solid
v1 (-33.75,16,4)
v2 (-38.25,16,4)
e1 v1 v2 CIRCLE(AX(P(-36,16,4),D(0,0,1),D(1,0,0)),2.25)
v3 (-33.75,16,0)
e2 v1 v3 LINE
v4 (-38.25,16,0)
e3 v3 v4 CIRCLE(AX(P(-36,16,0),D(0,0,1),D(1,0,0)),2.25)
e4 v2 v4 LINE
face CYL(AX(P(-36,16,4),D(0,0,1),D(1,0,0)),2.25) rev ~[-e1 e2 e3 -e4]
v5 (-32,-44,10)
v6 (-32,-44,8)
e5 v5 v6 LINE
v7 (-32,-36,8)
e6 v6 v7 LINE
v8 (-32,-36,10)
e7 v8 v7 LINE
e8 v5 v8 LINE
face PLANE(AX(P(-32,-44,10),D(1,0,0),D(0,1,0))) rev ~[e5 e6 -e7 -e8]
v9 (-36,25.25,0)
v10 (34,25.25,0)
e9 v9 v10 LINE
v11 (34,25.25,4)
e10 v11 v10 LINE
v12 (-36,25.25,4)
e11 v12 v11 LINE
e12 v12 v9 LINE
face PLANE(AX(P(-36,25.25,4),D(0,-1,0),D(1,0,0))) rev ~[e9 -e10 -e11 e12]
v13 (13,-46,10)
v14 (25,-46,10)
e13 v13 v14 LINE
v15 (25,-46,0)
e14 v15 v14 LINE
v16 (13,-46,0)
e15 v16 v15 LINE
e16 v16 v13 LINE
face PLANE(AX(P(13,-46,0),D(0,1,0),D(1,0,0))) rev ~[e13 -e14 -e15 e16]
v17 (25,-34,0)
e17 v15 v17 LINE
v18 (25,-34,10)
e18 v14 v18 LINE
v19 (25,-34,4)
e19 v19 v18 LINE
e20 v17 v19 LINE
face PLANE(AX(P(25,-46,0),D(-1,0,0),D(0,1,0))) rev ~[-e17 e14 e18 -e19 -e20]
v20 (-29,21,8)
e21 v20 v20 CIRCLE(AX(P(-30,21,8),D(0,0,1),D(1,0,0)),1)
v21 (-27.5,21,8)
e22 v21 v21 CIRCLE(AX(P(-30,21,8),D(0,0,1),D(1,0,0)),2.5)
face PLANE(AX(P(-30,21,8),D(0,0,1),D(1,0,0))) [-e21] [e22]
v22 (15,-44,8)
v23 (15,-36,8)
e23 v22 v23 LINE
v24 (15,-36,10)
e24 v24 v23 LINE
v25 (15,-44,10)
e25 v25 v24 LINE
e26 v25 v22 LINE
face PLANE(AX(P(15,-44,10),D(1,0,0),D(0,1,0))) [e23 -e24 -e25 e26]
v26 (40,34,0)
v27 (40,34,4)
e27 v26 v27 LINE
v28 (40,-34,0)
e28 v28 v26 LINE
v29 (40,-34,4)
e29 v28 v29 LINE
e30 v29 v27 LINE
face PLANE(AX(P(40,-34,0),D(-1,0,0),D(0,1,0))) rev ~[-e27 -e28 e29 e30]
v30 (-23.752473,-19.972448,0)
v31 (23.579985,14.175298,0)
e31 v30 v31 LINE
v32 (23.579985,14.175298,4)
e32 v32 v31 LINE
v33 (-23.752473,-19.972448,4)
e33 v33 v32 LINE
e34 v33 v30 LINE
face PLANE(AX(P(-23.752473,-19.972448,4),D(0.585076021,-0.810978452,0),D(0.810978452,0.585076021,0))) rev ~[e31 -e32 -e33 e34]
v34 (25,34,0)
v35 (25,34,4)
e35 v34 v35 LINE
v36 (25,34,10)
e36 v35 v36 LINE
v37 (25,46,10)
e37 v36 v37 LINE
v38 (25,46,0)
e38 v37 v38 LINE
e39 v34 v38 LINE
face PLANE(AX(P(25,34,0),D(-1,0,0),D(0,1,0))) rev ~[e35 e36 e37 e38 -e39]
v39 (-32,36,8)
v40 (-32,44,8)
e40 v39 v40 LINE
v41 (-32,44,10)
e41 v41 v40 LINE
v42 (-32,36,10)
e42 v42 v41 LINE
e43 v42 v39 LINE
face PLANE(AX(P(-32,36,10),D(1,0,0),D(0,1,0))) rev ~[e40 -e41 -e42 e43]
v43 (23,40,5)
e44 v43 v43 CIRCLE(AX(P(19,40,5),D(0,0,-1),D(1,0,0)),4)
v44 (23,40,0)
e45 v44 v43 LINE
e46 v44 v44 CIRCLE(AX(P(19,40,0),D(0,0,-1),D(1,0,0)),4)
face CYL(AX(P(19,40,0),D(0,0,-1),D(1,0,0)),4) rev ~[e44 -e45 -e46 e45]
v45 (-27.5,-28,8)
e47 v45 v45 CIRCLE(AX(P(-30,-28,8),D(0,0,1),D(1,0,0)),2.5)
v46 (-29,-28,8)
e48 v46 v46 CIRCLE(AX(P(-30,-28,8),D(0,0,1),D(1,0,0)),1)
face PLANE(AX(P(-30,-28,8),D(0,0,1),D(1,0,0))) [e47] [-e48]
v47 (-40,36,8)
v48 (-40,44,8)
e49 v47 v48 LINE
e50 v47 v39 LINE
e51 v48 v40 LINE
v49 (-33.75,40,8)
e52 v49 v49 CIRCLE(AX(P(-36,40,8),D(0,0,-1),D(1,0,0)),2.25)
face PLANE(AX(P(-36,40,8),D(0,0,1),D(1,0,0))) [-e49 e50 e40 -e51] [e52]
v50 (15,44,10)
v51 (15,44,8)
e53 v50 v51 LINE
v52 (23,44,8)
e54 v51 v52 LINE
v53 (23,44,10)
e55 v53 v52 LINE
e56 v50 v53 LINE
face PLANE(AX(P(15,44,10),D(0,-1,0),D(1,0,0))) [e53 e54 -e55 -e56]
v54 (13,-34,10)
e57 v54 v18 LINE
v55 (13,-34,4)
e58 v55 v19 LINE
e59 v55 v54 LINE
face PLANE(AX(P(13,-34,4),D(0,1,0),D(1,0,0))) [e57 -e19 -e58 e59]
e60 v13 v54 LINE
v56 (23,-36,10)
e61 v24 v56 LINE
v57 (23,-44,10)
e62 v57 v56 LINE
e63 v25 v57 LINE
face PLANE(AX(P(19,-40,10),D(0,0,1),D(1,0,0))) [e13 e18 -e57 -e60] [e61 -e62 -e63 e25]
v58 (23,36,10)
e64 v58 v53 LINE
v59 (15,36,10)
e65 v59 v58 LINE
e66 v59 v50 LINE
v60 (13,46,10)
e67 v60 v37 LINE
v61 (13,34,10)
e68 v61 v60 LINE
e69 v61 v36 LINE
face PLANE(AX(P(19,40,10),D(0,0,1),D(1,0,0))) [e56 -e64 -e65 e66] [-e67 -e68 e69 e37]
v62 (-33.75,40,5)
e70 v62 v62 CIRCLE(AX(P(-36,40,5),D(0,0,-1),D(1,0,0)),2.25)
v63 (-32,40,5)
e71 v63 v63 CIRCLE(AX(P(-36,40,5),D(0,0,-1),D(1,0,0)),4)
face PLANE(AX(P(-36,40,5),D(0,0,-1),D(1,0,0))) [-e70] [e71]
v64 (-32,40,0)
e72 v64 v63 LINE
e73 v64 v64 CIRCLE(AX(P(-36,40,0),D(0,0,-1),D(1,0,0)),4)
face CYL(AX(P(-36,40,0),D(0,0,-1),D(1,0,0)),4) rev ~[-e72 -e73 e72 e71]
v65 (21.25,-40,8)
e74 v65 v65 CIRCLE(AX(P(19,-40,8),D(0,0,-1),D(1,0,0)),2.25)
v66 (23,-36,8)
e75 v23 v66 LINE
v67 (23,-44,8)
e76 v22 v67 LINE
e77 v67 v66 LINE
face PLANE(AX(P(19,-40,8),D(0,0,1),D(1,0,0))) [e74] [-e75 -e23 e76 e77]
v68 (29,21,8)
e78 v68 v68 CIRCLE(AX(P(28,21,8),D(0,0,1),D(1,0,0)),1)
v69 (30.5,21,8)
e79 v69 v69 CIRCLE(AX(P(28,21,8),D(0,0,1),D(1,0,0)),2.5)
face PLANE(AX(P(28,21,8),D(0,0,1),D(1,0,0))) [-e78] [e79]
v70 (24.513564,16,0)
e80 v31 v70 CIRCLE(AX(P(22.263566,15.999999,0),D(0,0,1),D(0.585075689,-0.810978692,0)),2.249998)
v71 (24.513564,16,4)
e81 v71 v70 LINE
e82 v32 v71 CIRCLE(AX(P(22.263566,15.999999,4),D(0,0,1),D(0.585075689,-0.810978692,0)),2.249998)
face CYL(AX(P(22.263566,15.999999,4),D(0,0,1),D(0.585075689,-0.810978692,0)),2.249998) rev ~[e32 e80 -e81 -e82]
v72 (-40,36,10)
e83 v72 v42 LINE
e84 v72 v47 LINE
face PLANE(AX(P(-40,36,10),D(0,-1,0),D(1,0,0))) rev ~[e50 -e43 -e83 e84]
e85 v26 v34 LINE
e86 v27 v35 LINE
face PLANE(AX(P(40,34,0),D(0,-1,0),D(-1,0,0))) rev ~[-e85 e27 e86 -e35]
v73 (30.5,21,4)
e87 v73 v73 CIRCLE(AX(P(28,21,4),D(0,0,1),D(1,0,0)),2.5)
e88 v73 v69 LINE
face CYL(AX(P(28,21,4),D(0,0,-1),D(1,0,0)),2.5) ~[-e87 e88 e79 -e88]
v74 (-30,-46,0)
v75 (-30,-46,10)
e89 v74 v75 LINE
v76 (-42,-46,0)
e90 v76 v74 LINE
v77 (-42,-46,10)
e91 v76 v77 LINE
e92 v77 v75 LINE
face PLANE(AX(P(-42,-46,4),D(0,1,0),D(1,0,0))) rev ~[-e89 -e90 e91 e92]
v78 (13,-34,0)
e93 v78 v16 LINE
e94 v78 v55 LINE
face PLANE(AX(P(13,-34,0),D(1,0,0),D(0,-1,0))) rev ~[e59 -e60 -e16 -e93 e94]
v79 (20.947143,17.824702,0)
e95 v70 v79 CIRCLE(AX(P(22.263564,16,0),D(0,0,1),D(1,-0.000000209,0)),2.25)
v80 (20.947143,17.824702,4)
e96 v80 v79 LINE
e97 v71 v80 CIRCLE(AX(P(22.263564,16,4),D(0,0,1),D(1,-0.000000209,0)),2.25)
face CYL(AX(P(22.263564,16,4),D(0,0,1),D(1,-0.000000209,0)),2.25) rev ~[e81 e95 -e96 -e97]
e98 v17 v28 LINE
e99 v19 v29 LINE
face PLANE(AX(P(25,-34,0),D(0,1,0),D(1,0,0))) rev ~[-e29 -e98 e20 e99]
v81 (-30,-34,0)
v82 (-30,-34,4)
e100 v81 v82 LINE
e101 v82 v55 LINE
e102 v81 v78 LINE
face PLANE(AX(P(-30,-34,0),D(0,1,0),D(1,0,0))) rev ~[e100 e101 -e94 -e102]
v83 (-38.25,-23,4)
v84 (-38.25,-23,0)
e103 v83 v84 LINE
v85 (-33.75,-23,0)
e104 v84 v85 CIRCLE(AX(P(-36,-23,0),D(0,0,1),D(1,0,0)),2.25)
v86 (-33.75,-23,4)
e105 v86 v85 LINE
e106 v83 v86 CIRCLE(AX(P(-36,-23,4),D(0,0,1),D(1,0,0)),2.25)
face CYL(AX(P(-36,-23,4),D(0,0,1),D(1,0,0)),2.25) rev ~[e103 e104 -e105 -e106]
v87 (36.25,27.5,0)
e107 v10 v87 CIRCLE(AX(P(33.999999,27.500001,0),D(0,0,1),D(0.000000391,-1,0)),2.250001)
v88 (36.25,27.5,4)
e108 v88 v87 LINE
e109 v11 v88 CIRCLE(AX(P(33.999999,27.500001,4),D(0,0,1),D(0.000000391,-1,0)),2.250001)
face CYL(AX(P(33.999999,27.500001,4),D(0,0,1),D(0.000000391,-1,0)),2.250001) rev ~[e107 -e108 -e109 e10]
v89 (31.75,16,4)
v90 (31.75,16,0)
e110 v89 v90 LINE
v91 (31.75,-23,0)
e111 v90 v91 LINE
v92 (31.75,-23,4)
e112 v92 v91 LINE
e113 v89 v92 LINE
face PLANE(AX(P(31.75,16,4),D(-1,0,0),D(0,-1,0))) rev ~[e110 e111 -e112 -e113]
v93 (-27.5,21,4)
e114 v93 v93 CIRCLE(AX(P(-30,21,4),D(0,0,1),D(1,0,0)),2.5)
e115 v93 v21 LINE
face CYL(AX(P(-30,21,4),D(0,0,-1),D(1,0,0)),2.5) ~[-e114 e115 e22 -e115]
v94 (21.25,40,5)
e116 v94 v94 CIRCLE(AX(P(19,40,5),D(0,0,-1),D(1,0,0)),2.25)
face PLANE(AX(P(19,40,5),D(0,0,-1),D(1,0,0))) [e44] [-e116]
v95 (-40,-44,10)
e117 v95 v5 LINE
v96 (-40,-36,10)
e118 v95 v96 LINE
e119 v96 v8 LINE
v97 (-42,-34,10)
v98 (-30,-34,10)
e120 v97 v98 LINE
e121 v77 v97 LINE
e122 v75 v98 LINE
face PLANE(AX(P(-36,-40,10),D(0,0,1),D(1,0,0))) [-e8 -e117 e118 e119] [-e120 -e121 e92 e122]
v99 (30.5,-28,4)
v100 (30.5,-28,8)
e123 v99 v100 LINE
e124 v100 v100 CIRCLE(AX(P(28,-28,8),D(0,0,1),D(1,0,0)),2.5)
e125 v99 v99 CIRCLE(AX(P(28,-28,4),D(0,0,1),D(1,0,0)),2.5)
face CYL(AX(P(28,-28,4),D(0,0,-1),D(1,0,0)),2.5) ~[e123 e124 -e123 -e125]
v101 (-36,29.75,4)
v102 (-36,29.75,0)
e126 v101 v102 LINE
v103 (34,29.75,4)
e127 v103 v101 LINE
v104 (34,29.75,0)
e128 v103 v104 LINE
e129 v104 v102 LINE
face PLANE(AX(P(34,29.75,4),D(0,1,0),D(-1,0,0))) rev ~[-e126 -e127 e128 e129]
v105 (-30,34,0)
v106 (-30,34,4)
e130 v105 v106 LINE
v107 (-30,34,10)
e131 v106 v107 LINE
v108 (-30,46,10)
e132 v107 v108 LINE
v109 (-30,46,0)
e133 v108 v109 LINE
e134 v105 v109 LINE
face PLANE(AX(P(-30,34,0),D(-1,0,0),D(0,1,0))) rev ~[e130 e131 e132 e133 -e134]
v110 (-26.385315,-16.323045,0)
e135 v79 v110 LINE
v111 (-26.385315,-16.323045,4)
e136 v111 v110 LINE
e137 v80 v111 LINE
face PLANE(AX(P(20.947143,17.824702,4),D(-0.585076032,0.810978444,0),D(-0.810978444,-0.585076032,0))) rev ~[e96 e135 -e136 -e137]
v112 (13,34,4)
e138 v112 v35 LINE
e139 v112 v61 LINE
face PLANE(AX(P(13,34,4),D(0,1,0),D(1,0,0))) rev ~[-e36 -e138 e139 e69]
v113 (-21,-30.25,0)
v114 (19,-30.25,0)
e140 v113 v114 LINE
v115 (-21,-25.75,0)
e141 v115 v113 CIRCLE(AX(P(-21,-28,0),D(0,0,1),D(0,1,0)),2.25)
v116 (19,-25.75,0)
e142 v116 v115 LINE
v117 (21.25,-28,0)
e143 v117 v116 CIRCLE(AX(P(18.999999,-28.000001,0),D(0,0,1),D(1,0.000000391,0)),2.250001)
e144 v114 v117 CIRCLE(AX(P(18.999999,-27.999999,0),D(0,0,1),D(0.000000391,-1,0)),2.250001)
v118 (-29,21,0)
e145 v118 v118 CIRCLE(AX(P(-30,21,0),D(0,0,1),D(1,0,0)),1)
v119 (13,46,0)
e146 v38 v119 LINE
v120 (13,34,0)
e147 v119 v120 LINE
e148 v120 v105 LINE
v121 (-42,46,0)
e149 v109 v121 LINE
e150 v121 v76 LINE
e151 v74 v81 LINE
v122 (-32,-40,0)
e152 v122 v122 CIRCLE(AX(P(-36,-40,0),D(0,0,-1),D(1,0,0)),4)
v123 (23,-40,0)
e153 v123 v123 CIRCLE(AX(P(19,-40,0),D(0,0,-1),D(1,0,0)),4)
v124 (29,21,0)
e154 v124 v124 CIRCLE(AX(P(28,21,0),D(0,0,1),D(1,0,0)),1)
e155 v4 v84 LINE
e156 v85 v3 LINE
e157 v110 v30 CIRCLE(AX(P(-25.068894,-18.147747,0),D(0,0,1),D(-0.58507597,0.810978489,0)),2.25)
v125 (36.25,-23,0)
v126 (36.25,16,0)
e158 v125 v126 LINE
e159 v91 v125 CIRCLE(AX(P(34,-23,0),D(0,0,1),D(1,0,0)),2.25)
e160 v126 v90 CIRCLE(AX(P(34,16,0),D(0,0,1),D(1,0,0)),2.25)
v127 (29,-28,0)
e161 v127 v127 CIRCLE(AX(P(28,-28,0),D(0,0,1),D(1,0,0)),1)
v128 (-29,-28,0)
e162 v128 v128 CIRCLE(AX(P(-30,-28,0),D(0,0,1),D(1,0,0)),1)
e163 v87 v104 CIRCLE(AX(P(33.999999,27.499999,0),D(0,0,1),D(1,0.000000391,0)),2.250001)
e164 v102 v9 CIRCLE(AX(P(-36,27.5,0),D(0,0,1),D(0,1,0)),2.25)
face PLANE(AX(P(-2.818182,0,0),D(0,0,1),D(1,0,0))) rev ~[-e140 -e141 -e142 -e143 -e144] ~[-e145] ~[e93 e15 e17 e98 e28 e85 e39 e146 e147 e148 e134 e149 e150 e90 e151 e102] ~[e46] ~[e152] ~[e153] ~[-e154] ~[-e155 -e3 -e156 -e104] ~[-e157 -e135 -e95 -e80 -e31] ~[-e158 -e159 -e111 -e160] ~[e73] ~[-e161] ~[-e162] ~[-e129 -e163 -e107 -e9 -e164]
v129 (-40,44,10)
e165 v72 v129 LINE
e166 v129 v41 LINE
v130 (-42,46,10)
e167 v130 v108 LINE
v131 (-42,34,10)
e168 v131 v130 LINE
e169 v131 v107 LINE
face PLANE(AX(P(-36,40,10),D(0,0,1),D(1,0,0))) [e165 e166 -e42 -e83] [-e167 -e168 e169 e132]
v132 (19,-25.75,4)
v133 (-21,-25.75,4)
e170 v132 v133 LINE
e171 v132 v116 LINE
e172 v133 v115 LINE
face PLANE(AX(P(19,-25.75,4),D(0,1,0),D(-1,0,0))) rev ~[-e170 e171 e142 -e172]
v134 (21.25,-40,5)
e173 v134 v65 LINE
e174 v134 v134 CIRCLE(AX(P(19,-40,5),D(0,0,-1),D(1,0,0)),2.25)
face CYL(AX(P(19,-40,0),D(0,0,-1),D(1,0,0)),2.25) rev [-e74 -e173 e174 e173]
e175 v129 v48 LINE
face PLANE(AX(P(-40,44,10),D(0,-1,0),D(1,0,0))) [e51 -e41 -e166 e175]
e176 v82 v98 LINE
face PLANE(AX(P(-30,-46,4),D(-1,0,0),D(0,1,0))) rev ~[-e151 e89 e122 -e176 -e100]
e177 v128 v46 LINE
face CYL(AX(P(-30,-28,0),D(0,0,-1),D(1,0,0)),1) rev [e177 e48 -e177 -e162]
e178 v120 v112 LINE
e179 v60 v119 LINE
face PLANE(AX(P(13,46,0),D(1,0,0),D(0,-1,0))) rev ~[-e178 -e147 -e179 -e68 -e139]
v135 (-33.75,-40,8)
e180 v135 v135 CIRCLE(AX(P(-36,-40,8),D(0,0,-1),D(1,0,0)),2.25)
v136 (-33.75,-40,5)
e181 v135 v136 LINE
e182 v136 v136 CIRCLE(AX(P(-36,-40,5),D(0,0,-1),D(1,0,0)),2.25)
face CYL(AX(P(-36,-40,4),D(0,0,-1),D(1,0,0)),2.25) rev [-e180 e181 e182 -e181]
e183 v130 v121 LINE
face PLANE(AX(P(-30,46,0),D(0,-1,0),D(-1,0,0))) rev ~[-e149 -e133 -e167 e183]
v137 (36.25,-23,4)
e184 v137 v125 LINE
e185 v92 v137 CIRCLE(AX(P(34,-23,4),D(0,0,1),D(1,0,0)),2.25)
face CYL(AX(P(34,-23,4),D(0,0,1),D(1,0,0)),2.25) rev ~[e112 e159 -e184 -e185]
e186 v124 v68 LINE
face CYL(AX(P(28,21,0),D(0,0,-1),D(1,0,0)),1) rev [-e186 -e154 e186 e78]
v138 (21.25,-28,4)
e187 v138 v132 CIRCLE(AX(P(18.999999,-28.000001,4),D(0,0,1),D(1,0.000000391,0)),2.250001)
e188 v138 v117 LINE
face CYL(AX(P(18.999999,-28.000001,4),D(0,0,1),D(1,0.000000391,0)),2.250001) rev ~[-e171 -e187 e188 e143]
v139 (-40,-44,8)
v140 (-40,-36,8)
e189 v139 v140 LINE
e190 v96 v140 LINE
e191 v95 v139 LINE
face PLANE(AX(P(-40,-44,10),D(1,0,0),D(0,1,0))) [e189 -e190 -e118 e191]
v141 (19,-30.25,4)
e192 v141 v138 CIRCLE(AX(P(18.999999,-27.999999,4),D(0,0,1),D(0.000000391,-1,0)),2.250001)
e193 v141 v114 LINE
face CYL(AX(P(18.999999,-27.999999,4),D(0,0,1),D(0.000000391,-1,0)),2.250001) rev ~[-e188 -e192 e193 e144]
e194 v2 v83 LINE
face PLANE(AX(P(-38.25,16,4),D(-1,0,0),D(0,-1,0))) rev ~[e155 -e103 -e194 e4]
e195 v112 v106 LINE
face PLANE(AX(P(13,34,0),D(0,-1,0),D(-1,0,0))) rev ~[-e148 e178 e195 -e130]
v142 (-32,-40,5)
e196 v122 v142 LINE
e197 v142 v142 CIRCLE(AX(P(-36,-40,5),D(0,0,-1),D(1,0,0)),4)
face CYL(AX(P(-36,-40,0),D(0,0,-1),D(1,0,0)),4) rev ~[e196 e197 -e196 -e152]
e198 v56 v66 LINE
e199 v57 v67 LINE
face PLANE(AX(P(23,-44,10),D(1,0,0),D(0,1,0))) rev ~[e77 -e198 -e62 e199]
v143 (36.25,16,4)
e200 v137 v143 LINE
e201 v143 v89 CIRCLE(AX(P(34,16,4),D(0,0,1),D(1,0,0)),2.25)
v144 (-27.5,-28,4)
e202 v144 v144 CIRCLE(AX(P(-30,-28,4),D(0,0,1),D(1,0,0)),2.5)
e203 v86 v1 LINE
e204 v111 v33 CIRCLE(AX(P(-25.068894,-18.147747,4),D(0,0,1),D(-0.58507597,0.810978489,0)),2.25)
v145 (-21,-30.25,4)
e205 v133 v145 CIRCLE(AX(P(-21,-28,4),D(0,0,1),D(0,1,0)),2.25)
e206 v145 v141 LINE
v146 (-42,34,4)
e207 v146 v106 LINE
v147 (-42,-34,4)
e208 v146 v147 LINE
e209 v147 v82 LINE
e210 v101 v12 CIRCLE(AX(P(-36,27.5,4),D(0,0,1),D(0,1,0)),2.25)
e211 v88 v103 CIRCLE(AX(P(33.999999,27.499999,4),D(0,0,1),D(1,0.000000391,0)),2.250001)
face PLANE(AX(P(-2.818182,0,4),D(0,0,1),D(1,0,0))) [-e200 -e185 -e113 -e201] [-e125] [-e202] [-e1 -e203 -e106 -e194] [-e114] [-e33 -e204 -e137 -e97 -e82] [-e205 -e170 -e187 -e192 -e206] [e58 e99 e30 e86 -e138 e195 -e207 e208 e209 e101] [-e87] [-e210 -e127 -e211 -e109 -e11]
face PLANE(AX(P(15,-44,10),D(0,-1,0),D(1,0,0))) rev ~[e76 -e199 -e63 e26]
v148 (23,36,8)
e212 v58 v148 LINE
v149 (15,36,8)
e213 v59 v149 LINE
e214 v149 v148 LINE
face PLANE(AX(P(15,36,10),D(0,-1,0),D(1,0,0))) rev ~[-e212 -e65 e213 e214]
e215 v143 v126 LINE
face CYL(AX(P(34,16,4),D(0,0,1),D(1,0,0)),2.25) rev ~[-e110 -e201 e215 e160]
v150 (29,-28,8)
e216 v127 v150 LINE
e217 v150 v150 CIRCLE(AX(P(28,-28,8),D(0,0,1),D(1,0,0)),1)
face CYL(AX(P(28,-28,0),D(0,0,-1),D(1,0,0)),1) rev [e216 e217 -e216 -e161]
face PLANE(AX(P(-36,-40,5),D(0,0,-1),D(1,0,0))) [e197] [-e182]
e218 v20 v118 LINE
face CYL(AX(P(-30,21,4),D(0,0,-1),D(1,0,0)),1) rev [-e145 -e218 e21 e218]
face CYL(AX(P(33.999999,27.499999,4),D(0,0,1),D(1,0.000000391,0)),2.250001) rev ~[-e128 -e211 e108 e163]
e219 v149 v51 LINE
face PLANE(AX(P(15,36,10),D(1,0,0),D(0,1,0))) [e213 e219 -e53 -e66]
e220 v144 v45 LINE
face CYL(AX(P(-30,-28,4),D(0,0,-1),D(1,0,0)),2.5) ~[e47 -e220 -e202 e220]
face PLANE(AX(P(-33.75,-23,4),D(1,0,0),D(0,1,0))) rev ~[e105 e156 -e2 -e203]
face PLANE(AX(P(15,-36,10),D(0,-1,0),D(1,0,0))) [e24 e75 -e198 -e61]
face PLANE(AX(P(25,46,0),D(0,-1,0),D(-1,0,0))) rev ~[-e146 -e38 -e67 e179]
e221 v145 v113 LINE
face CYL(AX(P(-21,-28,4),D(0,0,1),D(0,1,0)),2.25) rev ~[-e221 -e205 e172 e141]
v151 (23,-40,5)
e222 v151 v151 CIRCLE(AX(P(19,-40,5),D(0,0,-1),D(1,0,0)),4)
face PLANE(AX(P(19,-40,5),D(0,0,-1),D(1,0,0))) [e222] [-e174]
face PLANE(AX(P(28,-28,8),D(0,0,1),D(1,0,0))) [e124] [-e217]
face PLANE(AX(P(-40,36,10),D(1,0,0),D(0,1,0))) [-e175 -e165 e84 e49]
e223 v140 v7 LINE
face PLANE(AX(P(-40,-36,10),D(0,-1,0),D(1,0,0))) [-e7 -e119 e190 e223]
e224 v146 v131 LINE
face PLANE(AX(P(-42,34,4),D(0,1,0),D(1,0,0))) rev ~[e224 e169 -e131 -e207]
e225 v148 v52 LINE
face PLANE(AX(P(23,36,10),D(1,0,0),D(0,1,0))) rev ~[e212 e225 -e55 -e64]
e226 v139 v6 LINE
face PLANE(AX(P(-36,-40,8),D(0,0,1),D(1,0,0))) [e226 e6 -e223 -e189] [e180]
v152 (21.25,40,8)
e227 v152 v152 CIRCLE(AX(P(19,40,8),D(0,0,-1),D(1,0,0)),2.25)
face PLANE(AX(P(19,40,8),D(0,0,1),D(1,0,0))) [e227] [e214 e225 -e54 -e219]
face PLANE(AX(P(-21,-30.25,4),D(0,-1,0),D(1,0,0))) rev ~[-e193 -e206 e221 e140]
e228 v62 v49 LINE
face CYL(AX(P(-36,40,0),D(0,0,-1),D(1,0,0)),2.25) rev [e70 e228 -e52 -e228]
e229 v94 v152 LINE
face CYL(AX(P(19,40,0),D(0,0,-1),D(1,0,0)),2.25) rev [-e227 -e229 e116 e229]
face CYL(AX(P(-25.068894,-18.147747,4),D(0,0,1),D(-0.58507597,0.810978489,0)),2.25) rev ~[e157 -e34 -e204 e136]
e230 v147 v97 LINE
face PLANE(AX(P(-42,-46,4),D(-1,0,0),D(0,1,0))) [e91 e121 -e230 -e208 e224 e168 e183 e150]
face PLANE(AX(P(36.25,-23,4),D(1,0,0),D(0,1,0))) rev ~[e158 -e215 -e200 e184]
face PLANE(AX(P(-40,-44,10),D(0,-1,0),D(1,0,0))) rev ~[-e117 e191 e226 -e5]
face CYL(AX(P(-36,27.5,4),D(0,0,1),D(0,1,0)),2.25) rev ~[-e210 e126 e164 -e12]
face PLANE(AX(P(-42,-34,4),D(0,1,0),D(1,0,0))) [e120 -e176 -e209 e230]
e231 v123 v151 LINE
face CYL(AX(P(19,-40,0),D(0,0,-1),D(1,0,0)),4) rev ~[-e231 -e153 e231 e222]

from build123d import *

# Parameters (mm, degrees)
F0_R      = 2.25
F0_R_2    = 1
F1_DEPTH  = 4
F2_W      = 12
F2_H      = 12
F2_R      = 2.25
F3_DEPTH  = 6
F4_W      = 8
F4_H      = 8
F5_DEPTH  = 2
F6_R      = 4
F6_R_2    = 2.25
F7_DEPTH  = 5
F8_R      = 2.5
F8_R_2    = 1
F9_DEPTH  = 4
F11_DEPTH = 4.001


with BuildPart() as f1:
    # F0 (on Top) → F1 (new body)
    with BuildSketch(Plane.XY):
        Polygon((-30, 46), (-42, 46), (-42, -46), (-30, -46), (-30, -34), (13, -34), (13, -46), (25, -46), (25, -34), (40, -34), (40, 34), (25, 34), (25, 46), (13, 46), (13, 34), (-30, 34), align=None)
        with Locations((-36, -40)):
            Circle(F0_R, mode=Mode.SUBTRACT)
        with Locations((-30, -28)):
            Circle(F0_R_2, mode=Mode.SUBTRACT)
        with Locations((19, -40)):
            Circle(F0_R, mode=Mode.SUBTRACT)
        with Locations((28, -28)):
            Circle(F0_R_2, mode=Mode.SUBTRACT)
        with Locations((-30, 21)):
            Circle(F0_R_2, mode=Mode.SUBTRACT)
        with Locations((-36, 40)):
            Circle(F0_R, mode=Mode.SUBTRACT)
        with Locations((28, 21)):
            Circle(F0_R_2, mode=Mode.SUBTRACT)
        with Locations((19, 40)):
            Circle(F0_R, mode=Mode.SUBTRACT)
    extrude(amount=F1_DEPTH)

    # F2 (on face) → F3 (join)
    with BuildSketch(Plane.XY.offset(4)):
        with Locations((-36, -40)):
            Rectangle(F2_W, F2_H)
        with Locations((-36, -40)):
            Circle(F2_R, mode=Mode.SUBTRACT)
        with Locations((-36, 40)):
            Rectangle(F2_W, F2_H)
        with Locations((-36, 40)):
            Circle(F2_R, mode=Mode.SUBTRACT)
        with Locations((19, 40)):
            Rectangle(F2_W, F2_H)
        with Locations((19, 40)):
            Circle(F2_R, mode=Mode.SUBTRACT)
        with Locations((19, -40)):
            Rectangle(F2_W, F2_H)
        with Locations((19, -40)):
            Circle(F2_R, mode=Mode.SUBTRACT)
    extrude(amount=F3_DEPTH)

    # F4 (on face) → F5 (cut)
    with BuildSketch(Plane.XY.offset(10)):
        with Locations((-36, 40)):
            Rectangle(F4_W, F4_H)
        with Locations((19, 40)):
            Rectangle(F4_W, F4_H)
        with Locations((19, -40)):
            Rectangle(F4_W, F4_H)
        with Locations((-36, -40)):
            Rectangle(F4_W, F4_H)
    extrude(amount=-F5_DEPTH, mode=Mode.SUBTRACT)

    # F6 (on face) → F7 (cut)
    with BuildSketch(Plane(origin=(0, 0, 0), x_dir=(1, 0, 0), z_dir=(0, 0, -1))):
        with Locations((-36, 40)):
            Circle(F6_R)
        with Locations((-36, 40)):
            Circle(F6_R_2, mode=Mode.SUBTRACT)
        with Locations((19, 40)):
            Circle(F6_R)
        with Locations((19, 40)):
            Circle(F6_R_2, mode=Mode.SUBTRACT)
        with Locations((19, -40)):
            Circle(F6_R)
        with Locations((19, -40)):
            Circle(F6_R_2, mode=Mode.SUBTRACT)
        with Locations((-36, -40)):
            Circle(F6_R)
        with Locations((-36, -40)):
            Circle(F6_R_2, mode=Mode.SUBTRACT)
    extrude(amount=-F7_DEPTH, mode=Mode.SUBTRACT)

    # F8 (on face) → F9 (join)
    with BuildSketch(Plane.XY.offset(4)):
        with Locations((-30, 21)):
            Circle(F8_R)
        with Locations((-30, 21)):
            Circle(F8_R_2, mode=Mode.SUBTRACT)
        with Locations((-30, -28)):
            Circle(F8_R)
        with Locations((-30, -28)):
            Circle(F8_R_2, mode=Mode.SUBTRACT)
        with Locations((28, -28)):
            Circle(F8_R)
        with Locations((28, -28)):
            Circle(F8_R_2, mode=Mode.SUBTRACT)
        with Locations((28, 21)):
            Circle(F8_R)
        with Locations((28, 21)):
            Circle(F8_R_2, mode=Mode.SUBTRACT)
    extrude(amount=F9_DEPTH)

    # F10 (on face) → F11 (cut, through all)
    with BuildSketch(Plane.XY.offset(4)):
        with BuildLine():
            ThreePointArc((-36, 29.75), (-34.40901, 29.09099), (-33.75, 27.5))
            ThreePointArc((-33.75, 27.5), (-34.40901, 25.90901), (-36, 25.25))
            Line((-36, 25.25), (34, 25.25))
            ThreePointArc((34, 25.25), (31.75, 27.5), (34, 29.75))
            Line((34, 29.75), (-36, 29.75))
        make_face()
        with BuildLine():
            ThreePointArc((-36, 25.25), (-34.40901, 25.90901), (-33.75, 27.5))
            ThreePointArc((-33.75, 27.5), (-34.40901, 29.09099), (-36, 29.75))
            ThreePointArc((-36, 29.75), (-38.25, 27.5), (-36, 25.25))
        make_face()
        with BuildLine():
            ThreePointArc((-38.25, 16), (-36, 13.75), (-33.75, 16))
            ThreePointArc((-33.75, 16), (-36, 18.25), (-38.25, 16))
        make_face()
        with BuildLine():
            Line((-33.75, -23), (-33.75, 16))
            ThreePointArc((-33.75, 16), (-36, 13.75), (-38.25, 16))
            Line((-38.25, 16), (-38.25, -23))
            ThreePointArc((-38.25, -23), (-36, -20.75), (-33.75, -23))
        make_face()
        with BuildLine():
            ThreePointArc((-38.25, -23), (-36, -25.25), (-33.75, -23))
            ThreePointArc((-33.75, -23), (-36, -20.75), (-38.25, -23))
        make_face()
        with BuildLine():
            ThreePointArc((-23.752473, -19.972448), (-23.06584, -19.172576), (-22.818894, -18.147746))
            ThreePointArc((-22.818894, -18.147746), (-24.044064, -16.144693), (-26.385315, -16.323045))
            ThreePointArc((-26.385315, -16.323045), (-26.893596, -19.464167), (-23.752473, -19.972448))
        make_face()
        with BuildLine():
            ThreePointArc((-26.385315, -16.323045), (-24.044064, -16.144693), (-22.818894, -18.147746))
            ThreePointArc((-22.818894, -18.147746), (-23.06584, -19.172576), (-23.752473, -19.972448))
            Line((-23.752473, -19.972448), (23.579985, 14.175298))
            ThreePointArc((23.579985, 14.175298), (20.438863, 14.683579), (20.947143, 17.824702))
            Line((20.947143, 17.824702), (-26.385315, -16.323045))
        make_face()
        with BuildLine():
            ThreePointArc((24.513564, 16), (23.288394, 18.003054), (20.947143, 17.824702))
            ThreePointArc((20.947143, 17.824702), (20.438863, 14.683579), (23.579985, 14.175298))
            ThreePointArc((23.579985, 14.175298), (24.266618, 14.97517), (24.513564, 16))
        make_face()
        with BuildLine():
            ThreePointArc((36.25, 27.5), (35.59099, 29.09099), (34, 29.75))
            ThreePointArc((34, 29.75), (31.75, 27.5), (34, 25.25))
            ThreePointArc((34, 25.25), (35.59099, 25.90901), (36.25, 27.5))
        make_face()
        with BuildLine():
            Line((36.25, -23), (36.25, 16))
            ThreePointArc((36.25, 16), (34, 13.75), (31.75, 16))
            Line((31.75, 16), (31.75, -23))
            ThreePointArc((31.75, -23), (34, -20.75), (36.25, -23))
        make_face()
        with BuildLine():
            ThreePointArc((31.75, 16), (34, 13.75), (36.25, 16))
            ThreePointArc((36.25, 16), (34, 18.25), (31.75, 16))
        make_face()
        with BuildLine():
            ThreePointArc((31.75, -23), (34, -25.25), (36.25, -23))
            ThreePointArc((36.25, -23), (34, -20.75), (31.75, -23))
        make_face()
        with BuildLine():
            ThreePointArc((21.25, -28), (20.59099, -26.40901), (19, -25.75))
            ThreePointArc((19, -25.75), (16.75, -28), (19, -30.25))
            ThreePointArc((19, -30.25), (20.59099, -29.59099), (21.25, -28))
        make_face()
        with BuildLine():
            ThreePointArc((-21, -25.75), (-19.40901, -26.40901), (-18.75, -28))
            ThreePointArc((-18.75, -28), (-19.40901, -29.59099), (-21, -30.25))
            Line((-21, -30.25), (19, -30.25))
            ThreePointArc((19, -30.25), (16.75, -28), (19, -25.75))
            Line((19, -25.75), (-21, -25.75))
        make_face()
        with BuildLine():
            ThreePointArc((-21, -30.25), (-19.40901, -29.59099), (-18.75, -28))
            ThreePointArc((-18.75, -28), (-19.40901, -26.40901), (-21, -25.75))
            ThreePointArc((-21, -25.75), (-23.25, -28), (-21, -30.25))
        make_face()
    extrude(amount=-F11_DEPTH, mode=Mode.SUBTRACT)


solid = f1.part
